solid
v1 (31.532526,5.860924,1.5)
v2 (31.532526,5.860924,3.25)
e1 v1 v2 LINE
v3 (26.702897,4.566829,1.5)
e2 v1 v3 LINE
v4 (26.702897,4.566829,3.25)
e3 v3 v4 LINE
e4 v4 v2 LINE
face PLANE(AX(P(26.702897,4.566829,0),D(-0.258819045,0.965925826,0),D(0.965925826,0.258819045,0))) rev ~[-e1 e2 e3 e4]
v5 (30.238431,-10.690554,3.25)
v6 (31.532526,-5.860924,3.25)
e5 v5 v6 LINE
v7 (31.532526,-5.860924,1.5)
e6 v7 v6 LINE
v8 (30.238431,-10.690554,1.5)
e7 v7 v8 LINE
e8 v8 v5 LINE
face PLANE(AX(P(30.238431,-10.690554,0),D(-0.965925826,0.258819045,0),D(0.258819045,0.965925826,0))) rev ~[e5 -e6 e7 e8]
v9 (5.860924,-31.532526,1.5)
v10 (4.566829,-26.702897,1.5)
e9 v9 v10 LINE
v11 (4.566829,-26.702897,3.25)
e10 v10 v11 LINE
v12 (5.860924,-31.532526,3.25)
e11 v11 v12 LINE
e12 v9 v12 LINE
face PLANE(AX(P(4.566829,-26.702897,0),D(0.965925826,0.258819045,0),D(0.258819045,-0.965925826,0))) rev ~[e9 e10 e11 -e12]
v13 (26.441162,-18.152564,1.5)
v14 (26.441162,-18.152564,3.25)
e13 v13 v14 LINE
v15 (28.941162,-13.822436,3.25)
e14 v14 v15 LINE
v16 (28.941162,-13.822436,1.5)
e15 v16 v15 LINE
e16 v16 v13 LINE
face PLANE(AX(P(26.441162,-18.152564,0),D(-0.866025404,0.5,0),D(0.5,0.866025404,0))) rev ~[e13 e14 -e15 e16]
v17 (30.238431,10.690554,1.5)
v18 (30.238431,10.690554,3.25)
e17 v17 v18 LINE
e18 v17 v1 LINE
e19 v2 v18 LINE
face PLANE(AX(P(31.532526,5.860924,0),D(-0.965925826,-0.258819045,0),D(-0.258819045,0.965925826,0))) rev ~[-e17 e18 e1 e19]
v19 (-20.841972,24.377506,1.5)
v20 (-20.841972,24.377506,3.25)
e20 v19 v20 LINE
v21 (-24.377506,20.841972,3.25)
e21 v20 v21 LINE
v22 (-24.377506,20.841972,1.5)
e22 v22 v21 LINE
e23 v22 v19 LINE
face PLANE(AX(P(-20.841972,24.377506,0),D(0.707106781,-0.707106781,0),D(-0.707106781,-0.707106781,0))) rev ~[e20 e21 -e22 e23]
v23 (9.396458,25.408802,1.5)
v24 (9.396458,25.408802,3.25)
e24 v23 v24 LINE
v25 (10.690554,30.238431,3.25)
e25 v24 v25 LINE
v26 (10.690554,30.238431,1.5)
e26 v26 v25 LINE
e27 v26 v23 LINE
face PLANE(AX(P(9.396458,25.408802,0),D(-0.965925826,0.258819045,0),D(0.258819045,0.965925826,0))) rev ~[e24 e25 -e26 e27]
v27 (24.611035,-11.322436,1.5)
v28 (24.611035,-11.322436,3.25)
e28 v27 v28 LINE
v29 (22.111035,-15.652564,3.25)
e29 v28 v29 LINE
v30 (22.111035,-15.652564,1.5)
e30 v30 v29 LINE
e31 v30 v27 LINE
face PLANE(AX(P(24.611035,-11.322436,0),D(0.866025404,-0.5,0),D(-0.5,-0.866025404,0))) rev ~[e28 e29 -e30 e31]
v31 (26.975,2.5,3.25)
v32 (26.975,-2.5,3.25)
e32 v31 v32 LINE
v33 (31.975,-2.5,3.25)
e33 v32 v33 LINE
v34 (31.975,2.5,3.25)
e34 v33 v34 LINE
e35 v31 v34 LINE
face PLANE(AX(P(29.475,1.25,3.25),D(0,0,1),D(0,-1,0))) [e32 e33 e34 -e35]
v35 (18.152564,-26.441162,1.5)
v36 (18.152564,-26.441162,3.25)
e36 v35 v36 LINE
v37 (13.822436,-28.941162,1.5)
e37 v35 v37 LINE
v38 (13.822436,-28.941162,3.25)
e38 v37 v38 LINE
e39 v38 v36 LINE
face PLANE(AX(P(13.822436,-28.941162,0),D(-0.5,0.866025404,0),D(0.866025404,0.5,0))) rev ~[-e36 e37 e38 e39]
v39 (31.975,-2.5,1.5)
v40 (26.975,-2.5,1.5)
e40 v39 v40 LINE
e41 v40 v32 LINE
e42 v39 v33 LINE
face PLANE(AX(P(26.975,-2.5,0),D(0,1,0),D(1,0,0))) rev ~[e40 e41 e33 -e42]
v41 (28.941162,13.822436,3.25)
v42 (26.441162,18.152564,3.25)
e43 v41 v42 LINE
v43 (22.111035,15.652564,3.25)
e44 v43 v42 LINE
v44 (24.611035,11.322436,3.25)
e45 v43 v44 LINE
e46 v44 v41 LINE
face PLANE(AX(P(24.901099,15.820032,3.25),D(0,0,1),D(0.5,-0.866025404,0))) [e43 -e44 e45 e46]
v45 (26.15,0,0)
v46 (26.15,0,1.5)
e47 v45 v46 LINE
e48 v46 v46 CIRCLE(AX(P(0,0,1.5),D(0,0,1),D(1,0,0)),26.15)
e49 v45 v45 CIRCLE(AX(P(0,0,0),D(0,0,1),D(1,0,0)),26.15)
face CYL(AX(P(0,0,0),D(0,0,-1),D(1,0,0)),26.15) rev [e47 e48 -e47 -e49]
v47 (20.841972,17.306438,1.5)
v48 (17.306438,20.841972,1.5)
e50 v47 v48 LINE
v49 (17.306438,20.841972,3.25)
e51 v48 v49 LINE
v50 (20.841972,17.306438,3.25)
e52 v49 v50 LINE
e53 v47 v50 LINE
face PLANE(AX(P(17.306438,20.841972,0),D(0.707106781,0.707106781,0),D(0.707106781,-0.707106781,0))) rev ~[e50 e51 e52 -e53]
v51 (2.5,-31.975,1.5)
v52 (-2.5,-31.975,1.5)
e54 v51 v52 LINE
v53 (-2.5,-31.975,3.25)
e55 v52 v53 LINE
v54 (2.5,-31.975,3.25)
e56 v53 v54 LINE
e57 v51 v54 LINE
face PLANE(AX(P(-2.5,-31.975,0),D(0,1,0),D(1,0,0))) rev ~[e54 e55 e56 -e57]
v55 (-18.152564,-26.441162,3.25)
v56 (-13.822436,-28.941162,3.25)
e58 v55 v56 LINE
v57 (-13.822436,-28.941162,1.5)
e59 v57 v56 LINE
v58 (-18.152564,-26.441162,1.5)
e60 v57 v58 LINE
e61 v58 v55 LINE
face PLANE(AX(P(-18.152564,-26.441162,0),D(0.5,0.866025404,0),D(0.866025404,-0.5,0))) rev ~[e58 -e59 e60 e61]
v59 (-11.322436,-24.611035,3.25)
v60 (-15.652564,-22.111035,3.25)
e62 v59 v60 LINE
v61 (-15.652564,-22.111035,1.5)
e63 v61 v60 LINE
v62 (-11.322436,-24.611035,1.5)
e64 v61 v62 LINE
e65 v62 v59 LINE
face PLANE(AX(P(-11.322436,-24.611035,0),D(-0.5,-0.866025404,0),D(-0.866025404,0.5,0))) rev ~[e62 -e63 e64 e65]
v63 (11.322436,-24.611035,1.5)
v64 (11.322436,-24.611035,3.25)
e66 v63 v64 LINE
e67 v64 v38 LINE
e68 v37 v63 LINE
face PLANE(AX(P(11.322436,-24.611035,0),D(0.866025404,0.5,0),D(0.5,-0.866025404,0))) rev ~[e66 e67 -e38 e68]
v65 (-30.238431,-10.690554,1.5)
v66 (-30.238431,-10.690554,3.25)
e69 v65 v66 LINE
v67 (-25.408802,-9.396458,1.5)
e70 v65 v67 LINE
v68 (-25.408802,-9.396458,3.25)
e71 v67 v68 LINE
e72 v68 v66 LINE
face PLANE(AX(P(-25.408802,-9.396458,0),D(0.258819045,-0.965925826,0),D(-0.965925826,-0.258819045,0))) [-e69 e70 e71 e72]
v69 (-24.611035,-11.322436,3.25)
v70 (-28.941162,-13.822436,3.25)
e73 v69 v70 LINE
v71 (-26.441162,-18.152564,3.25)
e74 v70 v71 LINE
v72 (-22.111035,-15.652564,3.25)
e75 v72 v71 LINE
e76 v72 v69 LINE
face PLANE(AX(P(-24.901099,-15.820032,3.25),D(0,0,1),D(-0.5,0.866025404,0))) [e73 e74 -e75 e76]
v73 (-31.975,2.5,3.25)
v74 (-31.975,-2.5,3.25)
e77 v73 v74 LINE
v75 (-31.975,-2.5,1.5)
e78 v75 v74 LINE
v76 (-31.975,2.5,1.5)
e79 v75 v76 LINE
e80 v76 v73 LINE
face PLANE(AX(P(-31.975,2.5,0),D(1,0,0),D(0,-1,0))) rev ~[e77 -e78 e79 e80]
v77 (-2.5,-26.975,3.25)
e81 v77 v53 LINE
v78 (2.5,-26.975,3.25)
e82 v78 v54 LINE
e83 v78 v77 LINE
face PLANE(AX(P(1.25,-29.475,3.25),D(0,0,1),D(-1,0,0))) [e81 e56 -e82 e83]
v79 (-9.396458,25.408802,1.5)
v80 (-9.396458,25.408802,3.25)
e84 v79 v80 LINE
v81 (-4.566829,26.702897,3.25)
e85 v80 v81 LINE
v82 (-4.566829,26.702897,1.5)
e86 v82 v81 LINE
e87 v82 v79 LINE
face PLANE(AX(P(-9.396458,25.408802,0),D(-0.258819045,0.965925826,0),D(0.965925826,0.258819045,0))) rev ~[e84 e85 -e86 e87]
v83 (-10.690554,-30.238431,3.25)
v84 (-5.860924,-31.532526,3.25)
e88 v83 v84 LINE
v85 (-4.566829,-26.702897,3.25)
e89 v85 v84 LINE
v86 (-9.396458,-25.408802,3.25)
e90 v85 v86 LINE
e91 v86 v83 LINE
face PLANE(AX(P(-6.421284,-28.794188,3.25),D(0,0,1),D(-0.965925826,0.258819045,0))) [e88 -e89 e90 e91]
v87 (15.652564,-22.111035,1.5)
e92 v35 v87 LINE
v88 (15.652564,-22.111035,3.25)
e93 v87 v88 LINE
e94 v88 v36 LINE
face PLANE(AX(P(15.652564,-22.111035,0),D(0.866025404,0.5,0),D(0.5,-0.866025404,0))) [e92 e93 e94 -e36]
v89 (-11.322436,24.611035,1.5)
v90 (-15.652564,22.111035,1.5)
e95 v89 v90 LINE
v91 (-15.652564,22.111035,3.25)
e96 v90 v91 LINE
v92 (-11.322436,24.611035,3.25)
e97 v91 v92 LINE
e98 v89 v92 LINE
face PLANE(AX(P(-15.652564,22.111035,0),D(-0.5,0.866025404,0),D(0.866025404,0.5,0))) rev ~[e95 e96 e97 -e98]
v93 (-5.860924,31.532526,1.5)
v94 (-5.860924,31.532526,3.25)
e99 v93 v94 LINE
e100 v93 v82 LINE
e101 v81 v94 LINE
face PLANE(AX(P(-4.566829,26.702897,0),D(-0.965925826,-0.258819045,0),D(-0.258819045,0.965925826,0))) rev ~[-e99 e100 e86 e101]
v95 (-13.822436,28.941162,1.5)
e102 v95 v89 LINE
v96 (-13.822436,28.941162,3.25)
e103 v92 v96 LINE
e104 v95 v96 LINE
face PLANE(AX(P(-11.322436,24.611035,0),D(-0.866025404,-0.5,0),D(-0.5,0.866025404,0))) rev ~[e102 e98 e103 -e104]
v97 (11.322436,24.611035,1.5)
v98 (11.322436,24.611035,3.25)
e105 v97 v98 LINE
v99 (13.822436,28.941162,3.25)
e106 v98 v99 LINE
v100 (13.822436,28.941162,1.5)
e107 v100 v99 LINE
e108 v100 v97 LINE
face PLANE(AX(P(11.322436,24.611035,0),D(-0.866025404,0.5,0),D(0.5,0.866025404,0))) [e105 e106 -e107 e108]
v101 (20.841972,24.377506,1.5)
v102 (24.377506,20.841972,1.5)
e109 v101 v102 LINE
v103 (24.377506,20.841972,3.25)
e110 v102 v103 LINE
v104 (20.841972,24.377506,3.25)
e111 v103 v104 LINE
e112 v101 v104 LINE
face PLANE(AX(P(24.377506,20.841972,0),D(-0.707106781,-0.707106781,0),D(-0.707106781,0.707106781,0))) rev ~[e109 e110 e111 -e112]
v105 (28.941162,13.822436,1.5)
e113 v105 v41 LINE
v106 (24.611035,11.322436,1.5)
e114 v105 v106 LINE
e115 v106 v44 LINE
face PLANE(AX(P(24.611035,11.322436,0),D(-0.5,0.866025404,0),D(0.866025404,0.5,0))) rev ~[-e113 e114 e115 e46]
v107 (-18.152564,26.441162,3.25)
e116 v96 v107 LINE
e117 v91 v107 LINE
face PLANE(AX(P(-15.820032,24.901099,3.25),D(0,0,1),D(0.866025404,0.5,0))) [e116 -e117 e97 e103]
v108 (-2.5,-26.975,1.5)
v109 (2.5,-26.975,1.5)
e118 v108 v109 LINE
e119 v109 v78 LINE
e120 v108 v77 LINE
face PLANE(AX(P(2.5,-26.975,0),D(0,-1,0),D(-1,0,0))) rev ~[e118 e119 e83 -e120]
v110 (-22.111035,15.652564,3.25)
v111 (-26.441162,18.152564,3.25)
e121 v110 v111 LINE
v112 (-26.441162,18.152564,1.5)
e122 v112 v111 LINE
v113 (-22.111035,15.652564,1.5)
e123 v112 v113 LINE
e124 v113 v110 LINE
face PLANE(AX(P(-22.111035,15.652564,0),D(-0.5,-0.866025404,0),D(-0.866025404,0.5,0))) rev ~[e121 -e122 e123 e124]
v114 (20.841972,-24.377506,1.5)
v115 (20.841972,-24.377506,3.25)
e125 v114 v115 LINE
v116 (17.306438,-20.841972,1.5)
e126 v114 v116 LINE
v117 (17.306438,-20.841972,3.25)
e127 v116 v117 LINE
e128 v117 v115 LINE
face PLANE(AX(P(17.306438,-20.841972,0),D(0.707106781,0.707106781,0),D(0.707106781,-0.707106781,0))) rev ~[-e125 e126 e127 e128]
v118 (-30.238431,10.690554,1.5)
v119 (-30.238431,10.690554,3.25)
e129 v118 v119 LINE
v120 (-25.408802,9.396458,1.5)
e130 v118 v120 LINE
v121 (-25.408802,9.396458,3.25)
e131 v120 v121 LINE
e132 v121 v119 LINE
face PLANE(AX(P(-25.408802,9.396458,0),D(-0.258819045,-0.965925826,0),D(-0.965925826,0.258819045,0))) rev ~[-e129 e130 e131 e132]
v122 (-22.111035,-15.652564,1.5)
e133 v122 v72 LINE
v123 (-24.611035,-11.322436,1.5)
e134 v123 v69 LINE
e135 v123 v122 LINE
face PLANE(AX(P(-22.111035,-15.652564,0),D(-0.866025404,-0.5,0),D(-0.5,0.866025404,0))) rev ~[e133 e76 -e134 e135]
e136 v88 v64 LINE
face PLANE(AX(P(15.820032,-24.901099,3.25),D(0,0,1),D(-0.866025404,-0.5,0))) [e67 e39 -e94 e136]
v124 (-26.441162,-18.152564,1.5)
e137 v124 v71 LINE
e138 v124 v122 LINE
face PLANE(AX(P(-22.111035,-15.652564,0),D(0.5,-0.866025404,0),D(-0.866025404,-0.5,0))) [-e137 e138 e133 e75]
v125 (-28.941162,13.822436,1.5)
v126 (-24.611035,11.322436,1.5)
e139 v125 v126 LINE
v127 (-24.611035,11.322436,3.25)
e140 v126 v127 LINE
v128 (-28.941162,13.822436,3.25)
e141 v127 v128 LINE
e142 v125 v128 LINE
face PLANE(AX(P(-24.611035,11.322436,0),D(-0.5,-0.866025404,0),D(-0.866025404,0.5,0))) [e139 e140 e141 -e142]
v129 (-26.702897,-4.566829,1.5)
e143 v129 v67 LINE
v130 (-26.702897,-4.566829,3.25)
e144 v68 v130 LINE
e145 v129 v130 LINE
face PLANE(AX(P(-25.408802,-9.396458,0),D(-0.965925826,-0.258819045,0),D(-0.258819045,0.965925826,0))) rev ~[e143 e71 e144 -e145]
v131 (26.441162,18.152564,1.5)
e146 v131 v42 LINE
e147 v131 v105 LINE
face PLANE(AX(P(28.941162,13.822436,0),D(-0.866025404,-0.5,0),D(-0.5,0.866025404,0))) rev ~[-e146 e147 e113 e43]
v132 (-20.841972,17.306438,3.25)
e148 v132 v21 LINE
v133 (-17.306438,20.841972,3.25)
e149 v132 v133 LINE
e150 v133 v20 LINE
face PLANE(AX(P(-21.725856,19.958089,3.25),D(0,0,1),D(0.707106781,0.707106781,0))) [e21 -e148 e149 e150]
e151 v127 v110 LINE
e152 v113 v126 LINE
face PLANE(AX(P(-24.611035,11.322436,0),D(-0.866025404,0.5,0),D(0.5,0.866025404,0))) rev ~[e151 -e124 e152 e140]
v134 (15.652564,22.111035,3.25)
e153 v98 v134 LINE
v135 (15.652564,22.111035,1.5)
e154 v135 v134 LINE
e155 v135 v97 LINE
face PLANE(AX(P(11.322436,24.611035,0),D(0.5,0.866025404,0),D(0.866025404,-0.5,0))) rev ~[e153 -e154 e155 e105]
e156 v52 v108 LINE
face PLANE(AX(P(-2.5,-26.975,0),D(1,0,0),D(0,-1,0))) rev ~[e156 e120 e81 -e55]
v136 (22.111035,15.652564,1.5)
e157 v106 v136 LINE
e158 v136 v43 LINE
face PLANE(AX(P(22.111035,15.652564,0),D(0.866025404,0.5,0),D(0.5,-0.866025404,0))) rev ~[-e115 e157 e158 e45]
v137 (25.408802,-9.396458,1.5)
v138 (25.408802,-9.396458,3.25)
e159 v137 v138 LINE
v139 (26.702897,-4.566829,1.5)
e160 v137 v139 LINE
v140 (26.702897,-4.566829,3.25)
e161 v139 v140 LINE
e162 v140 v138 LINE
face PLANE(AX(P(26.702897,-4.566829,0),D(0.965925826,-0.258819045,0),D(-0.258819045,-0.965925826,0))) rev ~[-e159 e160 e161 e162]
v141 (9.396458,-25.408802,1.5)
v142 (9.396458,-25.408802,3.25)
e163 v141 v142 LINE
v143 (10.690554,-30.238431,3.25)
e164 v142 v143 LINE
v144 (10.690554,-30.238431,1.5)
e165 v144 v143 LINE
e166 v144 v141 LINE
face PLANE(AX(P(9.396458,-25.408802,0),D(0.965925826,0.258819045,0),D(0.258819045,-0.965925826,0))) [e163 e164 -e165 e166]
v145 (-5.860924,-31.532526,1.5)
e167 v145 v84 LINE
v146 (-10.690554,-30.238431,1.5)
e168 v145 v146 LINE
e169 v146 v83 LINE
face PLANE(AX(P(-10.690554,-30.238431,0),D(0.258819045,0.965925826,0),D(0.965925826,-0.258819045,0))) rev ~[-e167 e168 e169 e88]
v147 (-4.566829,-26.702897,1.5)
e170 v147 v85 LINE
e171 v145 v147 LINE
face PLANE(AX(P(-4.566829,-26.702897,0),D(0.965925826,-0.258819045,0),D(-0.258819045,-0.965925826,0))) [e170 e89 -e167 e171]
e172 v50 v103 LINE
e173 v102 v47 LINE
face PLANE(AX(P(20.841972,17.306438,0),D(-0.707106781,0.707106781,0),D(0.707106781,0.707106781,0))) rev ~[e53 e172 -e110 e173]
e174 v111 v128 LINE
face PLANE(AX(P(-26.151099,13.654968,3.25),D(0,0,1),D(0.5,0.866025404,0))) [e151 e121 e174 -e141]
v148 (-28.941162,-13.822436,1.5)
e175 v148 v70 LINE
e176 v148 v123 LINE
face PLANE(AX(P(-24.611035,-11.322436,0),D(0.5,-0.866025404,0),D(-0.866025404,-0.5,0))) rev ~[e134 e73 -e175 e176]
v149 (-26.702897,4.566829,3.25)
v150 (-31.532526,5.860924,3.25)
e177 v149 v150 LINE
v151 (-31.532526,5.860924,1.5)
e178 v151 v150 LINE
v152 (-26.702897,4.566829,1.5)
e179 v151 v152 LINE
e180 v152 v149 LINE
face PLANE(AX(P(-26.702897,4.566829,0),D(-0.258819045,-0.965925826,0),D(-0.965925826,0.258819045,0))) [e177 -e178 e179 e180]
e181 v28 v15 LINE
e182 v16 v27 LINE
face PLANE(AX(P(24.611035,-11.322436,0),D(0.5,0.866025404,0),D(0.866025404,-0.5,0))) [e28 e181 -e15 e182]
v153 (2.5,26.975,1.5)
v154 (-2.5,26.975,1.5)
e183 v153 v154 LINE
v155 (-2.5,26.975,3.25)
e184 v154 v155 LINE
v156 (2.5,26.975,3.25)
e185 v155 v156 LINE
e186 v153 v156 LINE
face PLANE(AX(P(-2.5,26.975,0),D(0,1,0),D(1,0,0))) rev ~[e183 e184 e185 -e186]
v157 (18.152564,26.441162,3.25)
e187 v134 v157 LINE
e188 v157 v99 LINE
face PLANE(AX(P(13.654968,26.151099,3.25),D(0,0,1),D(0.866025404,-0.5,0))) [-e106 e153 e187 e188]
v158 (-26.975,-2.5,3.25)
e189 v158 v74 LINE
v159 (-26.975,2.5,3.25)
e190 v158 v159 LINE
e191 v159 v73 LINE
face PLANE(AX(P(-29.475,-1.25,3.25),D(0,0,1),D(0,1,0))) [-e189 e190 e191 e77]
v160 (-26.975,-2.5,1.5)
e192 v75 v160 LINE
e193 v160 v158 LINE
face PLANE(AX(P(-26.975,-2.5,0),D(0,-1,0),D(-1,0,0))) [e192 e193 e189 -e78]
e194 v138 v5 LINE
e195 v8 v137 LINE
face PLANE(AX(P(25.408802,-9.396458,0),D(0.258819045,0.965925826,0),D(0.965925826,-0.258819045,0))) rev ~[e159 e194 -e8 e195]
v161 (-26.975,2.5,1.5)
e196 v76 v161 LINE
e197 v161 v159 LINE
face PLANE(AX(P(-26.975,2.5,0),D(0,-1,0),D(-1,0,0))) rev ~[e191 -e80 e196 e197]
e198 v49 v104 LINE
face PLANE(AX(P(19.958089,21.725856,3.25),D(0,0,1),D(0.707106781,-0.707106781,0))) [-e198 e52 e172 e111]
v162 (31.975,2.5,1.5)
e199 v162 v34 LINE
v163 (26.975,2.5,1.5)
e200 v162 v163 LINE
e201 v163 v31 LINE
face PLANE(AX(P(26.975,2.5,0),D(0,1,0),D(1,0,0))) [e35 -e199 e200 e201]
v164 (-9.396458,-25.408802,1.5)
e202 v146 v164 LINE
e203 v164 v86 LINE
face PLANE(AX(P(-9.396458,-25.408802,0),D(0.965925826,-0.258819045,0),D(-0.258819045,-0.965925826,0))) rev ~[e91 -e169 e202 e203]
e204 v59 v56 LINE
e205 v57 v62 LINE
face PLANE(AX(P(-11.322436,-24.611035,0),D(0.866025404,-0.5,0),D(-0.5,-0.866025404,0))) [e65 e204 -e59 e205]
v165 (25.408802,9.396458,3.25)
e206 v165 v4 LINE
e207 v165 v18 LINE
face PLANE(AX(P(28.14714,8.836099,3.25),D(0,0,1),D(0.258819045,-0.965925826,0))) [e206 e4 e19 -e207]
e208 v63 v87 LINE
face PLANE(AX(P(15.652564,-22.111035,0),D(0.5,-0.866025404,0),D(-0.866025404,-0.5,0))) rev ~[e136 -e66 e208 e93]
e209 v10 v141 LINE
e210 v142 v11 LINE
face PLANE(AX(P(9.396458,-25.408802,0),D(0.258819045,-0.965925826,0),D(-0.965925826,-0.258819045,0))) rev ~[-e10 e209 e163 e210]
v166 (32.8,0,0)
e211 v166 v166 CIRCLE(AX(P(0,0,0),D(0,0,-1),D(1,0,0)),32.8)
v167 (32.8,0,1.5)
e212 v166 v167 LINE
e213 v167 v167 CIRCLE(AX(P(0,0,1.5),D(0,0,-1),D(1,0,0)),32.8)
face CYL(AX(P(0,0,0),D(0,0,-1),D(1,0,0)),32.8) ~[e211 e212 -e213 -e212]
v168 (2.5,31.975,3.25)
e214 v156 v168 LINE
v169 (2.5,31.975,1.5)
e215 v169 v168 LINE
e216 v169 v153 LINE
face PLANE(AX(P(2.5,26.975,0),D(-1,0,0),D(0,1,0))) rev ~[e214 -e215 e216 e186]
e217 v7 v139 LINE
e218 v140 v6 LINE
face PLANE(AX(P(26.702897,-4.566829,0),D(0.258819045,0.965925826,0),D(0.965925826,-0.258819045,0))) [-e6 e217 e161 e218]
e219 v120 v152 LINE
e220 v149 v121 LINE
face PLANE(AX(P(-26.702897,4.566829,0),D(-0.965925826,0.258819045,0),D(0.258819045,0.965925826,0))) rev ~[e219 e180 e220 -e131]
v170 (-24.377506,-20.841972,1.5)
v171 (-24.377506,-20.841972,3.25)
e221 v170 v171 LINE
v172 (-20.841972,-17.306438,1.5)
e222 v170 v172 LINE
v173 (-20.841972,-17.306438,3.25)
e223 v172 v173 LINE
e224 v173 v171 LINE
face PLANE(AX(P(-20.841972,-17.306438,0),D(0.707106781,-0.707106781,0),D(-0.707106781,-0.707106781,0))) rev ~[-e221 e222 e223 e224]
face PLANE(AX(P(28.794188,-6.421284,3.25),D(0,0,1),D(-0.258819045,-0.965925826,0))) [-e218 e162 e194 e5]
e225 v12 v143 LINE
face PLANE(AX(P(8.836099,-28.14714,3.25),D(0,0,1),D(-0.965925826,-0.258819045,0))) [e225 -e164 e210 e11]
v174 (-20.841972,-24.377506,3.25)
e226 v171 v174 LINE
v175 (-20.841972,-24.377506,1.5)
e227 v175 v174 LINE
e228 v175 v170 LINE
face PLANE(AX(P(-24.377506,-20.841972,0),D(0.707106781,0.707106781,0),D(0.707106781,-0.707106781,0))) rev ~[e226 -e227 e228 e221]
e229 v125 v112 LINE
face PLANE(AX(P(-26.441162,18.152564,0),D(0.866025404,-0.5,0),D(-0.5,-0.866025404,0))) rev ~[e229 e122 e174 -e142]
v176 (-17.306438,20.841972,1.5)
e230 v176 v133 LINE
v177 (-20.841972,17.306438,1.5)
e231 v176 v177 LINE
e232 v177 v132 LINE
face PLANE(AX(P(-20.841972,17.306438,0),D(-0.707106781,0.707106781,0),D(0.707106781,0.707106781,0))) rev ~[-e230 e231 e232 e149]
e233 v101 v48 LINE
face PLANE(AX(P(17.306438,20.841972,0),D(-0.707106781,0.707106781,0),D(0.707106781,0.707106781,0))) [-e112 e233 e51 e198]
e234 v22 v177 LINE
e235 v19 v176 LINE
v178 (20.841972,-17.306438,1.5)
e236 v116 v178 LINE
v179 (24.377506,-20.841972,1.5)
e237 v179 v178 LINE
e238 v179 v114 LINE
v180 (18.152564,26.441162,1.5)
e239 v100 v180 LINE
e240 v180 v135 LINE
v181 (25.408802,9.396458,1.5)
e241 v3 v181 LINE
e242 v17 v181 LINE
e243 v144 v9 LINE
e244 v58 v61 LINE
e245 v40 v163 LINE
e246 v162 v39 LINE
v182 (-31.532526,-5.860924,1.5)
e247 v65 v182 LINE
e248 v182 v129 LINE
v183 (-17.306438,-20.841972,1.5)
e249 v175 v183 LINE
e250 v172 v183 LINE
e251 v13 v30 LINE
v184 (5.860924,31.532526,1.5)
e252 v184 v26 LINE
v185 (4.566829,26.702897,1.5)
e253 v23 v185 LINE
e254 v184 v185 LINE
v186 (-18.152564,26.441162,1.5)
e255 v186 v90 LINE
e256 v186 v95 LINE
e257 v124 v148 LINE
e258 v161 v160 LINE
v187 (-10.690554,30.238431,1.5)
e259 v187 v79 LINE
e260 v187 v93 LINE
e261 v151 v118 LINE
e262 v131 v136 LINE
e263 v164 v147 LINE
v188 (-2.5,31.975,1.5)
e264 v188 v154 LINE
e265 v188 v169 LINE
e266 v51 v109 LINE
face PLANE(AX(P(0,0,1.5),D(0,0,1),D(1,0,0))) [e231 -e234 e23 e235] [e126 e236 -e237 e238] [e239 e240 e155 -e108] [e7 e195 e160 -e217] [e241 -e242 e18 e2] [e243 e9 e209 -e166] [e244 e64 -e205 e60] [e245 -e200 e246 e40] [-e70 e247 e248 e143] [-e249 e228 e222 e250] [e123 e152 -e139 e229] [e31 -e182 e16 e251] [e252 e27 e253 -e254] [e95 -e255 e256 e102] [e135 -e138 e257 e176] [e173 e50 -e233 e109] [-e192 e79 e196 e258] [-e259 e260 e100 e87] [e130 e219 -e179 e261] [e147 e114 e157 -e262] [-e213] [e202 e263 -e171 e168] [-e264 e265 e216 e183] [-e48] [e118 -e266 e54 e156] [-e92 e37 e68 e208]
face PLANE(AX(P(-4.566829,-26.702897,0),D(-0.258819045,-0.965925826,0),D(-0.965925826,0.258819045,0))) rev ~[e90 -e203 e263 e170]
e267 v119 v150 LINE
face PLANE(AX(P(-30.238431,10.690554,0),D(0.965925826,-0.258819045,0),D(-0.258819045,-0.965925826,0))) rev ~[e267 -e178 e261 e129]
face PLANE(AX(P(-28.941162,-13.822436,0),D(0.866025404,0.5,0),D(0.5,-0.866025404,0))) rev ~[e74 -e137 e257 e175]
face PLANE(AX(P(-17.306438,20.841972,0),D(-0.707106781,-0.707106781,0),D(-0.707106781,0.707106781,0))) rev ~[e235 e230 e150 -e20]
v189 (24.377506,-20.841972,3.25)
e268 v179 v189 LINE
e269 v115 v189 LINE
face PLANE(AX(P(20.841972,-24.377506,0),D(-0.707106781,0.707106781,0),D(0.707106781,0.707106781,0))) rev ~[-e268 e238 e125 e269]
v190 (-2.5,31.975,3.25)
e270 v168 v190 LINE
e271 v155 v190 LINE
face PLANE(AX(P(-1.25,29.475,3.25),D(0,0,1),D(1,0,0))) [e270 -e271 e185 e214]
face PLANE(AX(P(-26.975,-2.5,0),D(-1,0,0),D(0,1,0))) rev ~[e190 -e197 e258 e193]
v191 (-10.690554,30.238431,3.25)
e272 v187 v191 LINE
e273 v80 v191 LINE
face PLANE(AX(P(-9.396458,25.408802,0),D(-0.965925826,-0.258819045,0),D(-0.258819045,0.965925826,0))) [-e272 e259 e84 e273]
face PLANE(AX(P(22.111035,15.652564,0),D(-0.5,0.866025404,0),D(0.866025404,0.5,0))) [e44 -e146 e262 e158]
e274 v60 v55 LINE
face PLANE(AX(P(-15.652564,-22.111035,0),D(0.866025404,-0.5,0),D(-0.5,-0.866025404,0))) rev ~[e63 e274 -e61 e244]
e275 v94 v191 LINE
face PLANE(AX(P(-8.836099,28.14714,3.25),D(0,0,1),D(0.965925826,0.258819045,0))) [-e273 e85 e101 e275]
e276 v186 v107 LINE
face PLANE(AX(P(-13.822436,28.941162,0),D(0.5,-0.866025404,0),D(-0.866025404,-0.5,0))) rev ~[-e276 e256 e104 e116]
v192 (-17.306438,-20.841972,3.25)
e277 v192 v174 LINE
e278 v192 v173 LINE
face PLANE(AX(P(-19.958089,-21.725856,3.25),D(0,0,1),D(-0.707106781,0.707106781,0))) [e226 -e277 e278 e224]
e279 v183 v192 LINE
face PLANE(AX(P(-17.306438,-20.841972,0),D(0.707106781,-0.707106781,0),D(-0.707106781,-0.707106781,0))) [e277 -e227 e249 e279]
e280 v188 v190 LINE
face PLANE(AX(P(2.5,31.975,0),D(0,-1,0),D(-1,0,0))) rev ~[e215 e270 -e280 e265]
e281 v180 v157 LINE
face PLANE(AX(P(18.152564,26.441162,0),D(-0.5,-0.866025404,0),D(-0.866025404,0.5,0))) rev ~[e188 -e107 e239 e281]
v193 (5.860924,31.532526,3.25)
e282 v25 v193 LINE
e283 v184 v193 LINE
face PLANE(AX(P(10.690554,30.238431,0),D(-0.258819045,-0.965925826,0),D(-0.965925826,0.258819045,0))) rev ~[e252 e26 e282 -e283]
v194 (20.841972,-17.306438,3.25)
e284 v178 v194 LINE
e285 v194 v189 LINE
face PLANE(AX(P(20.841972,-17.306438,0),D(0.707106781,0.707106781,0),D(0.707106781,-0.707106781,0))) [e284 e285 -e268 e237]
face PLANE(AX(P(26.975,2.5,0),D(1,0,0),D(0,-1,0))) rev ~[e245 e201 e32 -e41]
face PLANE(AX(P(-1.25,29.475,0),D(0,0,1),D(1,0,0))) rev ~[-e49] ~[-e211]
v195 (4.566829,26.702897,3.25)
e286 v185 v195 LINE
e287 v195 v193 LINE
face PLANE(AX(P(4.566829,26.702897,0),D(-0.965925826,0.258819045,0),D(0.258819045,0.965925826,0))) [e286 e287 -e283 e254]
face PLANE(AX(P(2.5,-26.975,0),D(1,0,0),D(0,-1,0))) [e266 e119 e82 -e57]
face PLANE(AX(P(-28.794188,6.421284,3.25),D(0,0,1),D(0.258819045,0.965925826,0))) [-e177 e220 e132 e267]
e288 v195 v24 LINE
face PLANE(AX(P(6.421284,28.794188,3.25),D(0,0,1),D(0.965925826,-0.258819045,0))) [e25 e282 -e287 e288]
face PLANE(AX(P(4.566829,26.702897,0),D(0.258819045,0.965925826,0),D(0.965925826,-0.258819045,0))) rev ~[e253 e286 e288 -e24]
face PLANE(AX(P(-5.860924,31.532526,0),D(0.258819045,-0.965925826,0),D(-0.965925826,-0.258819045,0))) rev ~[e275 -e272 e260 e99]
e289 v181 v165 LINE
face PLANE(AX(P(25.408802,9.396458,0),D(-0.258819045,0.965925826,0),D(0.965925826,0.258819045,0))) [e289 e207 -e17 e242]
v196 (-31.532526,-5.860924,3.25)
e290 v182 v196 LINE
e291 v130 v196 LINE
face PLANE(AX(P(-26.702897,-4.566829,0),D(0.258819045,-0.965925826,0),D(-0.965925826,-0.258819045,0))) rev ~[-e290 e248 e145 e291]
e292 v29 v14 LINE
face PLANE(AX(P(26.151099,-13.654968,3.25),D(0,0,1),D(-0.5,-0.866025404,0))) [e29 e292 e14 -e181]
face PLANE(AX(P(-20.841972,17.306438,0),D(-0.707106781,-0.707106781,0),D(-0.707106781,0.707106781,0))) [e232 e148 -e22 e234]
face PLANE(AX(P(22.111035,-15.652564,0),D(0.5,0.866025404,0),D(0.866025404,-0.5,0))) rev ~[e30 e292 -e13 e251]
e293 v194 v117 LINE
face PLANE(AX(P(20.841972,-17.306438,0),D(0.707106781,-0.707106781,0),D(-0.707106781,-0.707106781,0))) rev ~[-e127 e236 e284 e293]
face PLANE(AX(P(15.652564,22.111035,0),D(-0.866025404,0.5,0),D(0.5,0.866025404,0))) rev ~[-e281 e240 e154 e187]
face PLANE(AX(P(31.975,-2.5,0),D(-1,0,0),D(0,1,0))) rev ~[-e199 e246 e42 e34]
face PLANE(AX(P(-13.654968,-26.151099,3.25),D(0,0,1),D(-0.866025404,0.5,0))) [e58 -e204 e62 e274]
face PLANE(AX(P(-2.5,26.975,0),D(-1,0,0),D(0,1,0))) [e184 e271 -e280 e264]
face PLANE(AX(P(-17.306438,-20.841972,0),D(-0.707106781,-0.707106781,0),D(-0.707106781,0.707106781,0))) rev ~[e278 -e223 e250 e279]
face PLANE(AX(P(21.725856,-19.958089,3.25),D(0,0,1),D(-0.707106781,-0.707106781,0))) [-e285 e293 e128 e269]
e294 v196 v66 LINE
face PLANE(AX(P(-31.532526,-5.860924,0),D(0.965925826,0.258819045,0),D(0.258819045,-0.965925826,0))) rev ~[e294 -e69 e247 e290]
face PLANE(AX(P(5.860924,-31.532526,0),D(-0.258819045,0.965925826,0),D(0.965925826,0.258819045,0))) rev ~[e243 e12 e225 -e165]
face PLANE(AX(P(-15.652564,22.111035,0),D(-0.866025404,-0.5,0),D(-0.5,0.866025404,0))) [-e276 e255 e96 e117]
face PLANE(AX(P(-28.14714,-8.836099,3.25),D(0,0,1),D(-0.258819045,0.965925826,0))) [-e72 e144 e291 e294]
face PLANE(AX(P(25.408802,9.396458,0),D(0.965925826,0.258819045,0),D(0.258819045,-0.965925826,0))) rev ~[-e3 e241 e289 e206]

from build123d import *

# Parameters (mm, degrees)
F0_R     = 32.8
F0_R_2   = 26.15
F2_DEPTH = 1.5
F1_W     = 2.5
F1_H     = 5
F3_DEPTH = 3.25
F4_COUNT = 24


with BuildPart() as f2:
    # F0 (on Top) → F2 (new body)
    with BuildSketch(Plane.XY):
        Circle(F0_R)
        Circle(F0_R_2, mode=Mode.SUBTRACT)
    extrude(amount=F2_DEPTH)

    # F1 (on Top) → F3 (join)
    with BuildSketch(Plane.XY):
        with Locations((-1.25, 29.475)):
            Rectangle(F1_W, F1_H)
        with Locations((1.25, 29.475)):
            Rectangle(F1_W, F1_H)
    extrude(amount=F3_DEPTH)

    # F4: F2 ×24 about axis
    f4_axis = Axis((0, 0, 0), (0, 0, 1))


with BuildPart() as f2_1:
    add(f2.part)
    for i in range(1, F4_COUNT):
        add(f2.part.rotate(f4_axis, i * 360 / F4_COUNT))


solid = f2_1.part
